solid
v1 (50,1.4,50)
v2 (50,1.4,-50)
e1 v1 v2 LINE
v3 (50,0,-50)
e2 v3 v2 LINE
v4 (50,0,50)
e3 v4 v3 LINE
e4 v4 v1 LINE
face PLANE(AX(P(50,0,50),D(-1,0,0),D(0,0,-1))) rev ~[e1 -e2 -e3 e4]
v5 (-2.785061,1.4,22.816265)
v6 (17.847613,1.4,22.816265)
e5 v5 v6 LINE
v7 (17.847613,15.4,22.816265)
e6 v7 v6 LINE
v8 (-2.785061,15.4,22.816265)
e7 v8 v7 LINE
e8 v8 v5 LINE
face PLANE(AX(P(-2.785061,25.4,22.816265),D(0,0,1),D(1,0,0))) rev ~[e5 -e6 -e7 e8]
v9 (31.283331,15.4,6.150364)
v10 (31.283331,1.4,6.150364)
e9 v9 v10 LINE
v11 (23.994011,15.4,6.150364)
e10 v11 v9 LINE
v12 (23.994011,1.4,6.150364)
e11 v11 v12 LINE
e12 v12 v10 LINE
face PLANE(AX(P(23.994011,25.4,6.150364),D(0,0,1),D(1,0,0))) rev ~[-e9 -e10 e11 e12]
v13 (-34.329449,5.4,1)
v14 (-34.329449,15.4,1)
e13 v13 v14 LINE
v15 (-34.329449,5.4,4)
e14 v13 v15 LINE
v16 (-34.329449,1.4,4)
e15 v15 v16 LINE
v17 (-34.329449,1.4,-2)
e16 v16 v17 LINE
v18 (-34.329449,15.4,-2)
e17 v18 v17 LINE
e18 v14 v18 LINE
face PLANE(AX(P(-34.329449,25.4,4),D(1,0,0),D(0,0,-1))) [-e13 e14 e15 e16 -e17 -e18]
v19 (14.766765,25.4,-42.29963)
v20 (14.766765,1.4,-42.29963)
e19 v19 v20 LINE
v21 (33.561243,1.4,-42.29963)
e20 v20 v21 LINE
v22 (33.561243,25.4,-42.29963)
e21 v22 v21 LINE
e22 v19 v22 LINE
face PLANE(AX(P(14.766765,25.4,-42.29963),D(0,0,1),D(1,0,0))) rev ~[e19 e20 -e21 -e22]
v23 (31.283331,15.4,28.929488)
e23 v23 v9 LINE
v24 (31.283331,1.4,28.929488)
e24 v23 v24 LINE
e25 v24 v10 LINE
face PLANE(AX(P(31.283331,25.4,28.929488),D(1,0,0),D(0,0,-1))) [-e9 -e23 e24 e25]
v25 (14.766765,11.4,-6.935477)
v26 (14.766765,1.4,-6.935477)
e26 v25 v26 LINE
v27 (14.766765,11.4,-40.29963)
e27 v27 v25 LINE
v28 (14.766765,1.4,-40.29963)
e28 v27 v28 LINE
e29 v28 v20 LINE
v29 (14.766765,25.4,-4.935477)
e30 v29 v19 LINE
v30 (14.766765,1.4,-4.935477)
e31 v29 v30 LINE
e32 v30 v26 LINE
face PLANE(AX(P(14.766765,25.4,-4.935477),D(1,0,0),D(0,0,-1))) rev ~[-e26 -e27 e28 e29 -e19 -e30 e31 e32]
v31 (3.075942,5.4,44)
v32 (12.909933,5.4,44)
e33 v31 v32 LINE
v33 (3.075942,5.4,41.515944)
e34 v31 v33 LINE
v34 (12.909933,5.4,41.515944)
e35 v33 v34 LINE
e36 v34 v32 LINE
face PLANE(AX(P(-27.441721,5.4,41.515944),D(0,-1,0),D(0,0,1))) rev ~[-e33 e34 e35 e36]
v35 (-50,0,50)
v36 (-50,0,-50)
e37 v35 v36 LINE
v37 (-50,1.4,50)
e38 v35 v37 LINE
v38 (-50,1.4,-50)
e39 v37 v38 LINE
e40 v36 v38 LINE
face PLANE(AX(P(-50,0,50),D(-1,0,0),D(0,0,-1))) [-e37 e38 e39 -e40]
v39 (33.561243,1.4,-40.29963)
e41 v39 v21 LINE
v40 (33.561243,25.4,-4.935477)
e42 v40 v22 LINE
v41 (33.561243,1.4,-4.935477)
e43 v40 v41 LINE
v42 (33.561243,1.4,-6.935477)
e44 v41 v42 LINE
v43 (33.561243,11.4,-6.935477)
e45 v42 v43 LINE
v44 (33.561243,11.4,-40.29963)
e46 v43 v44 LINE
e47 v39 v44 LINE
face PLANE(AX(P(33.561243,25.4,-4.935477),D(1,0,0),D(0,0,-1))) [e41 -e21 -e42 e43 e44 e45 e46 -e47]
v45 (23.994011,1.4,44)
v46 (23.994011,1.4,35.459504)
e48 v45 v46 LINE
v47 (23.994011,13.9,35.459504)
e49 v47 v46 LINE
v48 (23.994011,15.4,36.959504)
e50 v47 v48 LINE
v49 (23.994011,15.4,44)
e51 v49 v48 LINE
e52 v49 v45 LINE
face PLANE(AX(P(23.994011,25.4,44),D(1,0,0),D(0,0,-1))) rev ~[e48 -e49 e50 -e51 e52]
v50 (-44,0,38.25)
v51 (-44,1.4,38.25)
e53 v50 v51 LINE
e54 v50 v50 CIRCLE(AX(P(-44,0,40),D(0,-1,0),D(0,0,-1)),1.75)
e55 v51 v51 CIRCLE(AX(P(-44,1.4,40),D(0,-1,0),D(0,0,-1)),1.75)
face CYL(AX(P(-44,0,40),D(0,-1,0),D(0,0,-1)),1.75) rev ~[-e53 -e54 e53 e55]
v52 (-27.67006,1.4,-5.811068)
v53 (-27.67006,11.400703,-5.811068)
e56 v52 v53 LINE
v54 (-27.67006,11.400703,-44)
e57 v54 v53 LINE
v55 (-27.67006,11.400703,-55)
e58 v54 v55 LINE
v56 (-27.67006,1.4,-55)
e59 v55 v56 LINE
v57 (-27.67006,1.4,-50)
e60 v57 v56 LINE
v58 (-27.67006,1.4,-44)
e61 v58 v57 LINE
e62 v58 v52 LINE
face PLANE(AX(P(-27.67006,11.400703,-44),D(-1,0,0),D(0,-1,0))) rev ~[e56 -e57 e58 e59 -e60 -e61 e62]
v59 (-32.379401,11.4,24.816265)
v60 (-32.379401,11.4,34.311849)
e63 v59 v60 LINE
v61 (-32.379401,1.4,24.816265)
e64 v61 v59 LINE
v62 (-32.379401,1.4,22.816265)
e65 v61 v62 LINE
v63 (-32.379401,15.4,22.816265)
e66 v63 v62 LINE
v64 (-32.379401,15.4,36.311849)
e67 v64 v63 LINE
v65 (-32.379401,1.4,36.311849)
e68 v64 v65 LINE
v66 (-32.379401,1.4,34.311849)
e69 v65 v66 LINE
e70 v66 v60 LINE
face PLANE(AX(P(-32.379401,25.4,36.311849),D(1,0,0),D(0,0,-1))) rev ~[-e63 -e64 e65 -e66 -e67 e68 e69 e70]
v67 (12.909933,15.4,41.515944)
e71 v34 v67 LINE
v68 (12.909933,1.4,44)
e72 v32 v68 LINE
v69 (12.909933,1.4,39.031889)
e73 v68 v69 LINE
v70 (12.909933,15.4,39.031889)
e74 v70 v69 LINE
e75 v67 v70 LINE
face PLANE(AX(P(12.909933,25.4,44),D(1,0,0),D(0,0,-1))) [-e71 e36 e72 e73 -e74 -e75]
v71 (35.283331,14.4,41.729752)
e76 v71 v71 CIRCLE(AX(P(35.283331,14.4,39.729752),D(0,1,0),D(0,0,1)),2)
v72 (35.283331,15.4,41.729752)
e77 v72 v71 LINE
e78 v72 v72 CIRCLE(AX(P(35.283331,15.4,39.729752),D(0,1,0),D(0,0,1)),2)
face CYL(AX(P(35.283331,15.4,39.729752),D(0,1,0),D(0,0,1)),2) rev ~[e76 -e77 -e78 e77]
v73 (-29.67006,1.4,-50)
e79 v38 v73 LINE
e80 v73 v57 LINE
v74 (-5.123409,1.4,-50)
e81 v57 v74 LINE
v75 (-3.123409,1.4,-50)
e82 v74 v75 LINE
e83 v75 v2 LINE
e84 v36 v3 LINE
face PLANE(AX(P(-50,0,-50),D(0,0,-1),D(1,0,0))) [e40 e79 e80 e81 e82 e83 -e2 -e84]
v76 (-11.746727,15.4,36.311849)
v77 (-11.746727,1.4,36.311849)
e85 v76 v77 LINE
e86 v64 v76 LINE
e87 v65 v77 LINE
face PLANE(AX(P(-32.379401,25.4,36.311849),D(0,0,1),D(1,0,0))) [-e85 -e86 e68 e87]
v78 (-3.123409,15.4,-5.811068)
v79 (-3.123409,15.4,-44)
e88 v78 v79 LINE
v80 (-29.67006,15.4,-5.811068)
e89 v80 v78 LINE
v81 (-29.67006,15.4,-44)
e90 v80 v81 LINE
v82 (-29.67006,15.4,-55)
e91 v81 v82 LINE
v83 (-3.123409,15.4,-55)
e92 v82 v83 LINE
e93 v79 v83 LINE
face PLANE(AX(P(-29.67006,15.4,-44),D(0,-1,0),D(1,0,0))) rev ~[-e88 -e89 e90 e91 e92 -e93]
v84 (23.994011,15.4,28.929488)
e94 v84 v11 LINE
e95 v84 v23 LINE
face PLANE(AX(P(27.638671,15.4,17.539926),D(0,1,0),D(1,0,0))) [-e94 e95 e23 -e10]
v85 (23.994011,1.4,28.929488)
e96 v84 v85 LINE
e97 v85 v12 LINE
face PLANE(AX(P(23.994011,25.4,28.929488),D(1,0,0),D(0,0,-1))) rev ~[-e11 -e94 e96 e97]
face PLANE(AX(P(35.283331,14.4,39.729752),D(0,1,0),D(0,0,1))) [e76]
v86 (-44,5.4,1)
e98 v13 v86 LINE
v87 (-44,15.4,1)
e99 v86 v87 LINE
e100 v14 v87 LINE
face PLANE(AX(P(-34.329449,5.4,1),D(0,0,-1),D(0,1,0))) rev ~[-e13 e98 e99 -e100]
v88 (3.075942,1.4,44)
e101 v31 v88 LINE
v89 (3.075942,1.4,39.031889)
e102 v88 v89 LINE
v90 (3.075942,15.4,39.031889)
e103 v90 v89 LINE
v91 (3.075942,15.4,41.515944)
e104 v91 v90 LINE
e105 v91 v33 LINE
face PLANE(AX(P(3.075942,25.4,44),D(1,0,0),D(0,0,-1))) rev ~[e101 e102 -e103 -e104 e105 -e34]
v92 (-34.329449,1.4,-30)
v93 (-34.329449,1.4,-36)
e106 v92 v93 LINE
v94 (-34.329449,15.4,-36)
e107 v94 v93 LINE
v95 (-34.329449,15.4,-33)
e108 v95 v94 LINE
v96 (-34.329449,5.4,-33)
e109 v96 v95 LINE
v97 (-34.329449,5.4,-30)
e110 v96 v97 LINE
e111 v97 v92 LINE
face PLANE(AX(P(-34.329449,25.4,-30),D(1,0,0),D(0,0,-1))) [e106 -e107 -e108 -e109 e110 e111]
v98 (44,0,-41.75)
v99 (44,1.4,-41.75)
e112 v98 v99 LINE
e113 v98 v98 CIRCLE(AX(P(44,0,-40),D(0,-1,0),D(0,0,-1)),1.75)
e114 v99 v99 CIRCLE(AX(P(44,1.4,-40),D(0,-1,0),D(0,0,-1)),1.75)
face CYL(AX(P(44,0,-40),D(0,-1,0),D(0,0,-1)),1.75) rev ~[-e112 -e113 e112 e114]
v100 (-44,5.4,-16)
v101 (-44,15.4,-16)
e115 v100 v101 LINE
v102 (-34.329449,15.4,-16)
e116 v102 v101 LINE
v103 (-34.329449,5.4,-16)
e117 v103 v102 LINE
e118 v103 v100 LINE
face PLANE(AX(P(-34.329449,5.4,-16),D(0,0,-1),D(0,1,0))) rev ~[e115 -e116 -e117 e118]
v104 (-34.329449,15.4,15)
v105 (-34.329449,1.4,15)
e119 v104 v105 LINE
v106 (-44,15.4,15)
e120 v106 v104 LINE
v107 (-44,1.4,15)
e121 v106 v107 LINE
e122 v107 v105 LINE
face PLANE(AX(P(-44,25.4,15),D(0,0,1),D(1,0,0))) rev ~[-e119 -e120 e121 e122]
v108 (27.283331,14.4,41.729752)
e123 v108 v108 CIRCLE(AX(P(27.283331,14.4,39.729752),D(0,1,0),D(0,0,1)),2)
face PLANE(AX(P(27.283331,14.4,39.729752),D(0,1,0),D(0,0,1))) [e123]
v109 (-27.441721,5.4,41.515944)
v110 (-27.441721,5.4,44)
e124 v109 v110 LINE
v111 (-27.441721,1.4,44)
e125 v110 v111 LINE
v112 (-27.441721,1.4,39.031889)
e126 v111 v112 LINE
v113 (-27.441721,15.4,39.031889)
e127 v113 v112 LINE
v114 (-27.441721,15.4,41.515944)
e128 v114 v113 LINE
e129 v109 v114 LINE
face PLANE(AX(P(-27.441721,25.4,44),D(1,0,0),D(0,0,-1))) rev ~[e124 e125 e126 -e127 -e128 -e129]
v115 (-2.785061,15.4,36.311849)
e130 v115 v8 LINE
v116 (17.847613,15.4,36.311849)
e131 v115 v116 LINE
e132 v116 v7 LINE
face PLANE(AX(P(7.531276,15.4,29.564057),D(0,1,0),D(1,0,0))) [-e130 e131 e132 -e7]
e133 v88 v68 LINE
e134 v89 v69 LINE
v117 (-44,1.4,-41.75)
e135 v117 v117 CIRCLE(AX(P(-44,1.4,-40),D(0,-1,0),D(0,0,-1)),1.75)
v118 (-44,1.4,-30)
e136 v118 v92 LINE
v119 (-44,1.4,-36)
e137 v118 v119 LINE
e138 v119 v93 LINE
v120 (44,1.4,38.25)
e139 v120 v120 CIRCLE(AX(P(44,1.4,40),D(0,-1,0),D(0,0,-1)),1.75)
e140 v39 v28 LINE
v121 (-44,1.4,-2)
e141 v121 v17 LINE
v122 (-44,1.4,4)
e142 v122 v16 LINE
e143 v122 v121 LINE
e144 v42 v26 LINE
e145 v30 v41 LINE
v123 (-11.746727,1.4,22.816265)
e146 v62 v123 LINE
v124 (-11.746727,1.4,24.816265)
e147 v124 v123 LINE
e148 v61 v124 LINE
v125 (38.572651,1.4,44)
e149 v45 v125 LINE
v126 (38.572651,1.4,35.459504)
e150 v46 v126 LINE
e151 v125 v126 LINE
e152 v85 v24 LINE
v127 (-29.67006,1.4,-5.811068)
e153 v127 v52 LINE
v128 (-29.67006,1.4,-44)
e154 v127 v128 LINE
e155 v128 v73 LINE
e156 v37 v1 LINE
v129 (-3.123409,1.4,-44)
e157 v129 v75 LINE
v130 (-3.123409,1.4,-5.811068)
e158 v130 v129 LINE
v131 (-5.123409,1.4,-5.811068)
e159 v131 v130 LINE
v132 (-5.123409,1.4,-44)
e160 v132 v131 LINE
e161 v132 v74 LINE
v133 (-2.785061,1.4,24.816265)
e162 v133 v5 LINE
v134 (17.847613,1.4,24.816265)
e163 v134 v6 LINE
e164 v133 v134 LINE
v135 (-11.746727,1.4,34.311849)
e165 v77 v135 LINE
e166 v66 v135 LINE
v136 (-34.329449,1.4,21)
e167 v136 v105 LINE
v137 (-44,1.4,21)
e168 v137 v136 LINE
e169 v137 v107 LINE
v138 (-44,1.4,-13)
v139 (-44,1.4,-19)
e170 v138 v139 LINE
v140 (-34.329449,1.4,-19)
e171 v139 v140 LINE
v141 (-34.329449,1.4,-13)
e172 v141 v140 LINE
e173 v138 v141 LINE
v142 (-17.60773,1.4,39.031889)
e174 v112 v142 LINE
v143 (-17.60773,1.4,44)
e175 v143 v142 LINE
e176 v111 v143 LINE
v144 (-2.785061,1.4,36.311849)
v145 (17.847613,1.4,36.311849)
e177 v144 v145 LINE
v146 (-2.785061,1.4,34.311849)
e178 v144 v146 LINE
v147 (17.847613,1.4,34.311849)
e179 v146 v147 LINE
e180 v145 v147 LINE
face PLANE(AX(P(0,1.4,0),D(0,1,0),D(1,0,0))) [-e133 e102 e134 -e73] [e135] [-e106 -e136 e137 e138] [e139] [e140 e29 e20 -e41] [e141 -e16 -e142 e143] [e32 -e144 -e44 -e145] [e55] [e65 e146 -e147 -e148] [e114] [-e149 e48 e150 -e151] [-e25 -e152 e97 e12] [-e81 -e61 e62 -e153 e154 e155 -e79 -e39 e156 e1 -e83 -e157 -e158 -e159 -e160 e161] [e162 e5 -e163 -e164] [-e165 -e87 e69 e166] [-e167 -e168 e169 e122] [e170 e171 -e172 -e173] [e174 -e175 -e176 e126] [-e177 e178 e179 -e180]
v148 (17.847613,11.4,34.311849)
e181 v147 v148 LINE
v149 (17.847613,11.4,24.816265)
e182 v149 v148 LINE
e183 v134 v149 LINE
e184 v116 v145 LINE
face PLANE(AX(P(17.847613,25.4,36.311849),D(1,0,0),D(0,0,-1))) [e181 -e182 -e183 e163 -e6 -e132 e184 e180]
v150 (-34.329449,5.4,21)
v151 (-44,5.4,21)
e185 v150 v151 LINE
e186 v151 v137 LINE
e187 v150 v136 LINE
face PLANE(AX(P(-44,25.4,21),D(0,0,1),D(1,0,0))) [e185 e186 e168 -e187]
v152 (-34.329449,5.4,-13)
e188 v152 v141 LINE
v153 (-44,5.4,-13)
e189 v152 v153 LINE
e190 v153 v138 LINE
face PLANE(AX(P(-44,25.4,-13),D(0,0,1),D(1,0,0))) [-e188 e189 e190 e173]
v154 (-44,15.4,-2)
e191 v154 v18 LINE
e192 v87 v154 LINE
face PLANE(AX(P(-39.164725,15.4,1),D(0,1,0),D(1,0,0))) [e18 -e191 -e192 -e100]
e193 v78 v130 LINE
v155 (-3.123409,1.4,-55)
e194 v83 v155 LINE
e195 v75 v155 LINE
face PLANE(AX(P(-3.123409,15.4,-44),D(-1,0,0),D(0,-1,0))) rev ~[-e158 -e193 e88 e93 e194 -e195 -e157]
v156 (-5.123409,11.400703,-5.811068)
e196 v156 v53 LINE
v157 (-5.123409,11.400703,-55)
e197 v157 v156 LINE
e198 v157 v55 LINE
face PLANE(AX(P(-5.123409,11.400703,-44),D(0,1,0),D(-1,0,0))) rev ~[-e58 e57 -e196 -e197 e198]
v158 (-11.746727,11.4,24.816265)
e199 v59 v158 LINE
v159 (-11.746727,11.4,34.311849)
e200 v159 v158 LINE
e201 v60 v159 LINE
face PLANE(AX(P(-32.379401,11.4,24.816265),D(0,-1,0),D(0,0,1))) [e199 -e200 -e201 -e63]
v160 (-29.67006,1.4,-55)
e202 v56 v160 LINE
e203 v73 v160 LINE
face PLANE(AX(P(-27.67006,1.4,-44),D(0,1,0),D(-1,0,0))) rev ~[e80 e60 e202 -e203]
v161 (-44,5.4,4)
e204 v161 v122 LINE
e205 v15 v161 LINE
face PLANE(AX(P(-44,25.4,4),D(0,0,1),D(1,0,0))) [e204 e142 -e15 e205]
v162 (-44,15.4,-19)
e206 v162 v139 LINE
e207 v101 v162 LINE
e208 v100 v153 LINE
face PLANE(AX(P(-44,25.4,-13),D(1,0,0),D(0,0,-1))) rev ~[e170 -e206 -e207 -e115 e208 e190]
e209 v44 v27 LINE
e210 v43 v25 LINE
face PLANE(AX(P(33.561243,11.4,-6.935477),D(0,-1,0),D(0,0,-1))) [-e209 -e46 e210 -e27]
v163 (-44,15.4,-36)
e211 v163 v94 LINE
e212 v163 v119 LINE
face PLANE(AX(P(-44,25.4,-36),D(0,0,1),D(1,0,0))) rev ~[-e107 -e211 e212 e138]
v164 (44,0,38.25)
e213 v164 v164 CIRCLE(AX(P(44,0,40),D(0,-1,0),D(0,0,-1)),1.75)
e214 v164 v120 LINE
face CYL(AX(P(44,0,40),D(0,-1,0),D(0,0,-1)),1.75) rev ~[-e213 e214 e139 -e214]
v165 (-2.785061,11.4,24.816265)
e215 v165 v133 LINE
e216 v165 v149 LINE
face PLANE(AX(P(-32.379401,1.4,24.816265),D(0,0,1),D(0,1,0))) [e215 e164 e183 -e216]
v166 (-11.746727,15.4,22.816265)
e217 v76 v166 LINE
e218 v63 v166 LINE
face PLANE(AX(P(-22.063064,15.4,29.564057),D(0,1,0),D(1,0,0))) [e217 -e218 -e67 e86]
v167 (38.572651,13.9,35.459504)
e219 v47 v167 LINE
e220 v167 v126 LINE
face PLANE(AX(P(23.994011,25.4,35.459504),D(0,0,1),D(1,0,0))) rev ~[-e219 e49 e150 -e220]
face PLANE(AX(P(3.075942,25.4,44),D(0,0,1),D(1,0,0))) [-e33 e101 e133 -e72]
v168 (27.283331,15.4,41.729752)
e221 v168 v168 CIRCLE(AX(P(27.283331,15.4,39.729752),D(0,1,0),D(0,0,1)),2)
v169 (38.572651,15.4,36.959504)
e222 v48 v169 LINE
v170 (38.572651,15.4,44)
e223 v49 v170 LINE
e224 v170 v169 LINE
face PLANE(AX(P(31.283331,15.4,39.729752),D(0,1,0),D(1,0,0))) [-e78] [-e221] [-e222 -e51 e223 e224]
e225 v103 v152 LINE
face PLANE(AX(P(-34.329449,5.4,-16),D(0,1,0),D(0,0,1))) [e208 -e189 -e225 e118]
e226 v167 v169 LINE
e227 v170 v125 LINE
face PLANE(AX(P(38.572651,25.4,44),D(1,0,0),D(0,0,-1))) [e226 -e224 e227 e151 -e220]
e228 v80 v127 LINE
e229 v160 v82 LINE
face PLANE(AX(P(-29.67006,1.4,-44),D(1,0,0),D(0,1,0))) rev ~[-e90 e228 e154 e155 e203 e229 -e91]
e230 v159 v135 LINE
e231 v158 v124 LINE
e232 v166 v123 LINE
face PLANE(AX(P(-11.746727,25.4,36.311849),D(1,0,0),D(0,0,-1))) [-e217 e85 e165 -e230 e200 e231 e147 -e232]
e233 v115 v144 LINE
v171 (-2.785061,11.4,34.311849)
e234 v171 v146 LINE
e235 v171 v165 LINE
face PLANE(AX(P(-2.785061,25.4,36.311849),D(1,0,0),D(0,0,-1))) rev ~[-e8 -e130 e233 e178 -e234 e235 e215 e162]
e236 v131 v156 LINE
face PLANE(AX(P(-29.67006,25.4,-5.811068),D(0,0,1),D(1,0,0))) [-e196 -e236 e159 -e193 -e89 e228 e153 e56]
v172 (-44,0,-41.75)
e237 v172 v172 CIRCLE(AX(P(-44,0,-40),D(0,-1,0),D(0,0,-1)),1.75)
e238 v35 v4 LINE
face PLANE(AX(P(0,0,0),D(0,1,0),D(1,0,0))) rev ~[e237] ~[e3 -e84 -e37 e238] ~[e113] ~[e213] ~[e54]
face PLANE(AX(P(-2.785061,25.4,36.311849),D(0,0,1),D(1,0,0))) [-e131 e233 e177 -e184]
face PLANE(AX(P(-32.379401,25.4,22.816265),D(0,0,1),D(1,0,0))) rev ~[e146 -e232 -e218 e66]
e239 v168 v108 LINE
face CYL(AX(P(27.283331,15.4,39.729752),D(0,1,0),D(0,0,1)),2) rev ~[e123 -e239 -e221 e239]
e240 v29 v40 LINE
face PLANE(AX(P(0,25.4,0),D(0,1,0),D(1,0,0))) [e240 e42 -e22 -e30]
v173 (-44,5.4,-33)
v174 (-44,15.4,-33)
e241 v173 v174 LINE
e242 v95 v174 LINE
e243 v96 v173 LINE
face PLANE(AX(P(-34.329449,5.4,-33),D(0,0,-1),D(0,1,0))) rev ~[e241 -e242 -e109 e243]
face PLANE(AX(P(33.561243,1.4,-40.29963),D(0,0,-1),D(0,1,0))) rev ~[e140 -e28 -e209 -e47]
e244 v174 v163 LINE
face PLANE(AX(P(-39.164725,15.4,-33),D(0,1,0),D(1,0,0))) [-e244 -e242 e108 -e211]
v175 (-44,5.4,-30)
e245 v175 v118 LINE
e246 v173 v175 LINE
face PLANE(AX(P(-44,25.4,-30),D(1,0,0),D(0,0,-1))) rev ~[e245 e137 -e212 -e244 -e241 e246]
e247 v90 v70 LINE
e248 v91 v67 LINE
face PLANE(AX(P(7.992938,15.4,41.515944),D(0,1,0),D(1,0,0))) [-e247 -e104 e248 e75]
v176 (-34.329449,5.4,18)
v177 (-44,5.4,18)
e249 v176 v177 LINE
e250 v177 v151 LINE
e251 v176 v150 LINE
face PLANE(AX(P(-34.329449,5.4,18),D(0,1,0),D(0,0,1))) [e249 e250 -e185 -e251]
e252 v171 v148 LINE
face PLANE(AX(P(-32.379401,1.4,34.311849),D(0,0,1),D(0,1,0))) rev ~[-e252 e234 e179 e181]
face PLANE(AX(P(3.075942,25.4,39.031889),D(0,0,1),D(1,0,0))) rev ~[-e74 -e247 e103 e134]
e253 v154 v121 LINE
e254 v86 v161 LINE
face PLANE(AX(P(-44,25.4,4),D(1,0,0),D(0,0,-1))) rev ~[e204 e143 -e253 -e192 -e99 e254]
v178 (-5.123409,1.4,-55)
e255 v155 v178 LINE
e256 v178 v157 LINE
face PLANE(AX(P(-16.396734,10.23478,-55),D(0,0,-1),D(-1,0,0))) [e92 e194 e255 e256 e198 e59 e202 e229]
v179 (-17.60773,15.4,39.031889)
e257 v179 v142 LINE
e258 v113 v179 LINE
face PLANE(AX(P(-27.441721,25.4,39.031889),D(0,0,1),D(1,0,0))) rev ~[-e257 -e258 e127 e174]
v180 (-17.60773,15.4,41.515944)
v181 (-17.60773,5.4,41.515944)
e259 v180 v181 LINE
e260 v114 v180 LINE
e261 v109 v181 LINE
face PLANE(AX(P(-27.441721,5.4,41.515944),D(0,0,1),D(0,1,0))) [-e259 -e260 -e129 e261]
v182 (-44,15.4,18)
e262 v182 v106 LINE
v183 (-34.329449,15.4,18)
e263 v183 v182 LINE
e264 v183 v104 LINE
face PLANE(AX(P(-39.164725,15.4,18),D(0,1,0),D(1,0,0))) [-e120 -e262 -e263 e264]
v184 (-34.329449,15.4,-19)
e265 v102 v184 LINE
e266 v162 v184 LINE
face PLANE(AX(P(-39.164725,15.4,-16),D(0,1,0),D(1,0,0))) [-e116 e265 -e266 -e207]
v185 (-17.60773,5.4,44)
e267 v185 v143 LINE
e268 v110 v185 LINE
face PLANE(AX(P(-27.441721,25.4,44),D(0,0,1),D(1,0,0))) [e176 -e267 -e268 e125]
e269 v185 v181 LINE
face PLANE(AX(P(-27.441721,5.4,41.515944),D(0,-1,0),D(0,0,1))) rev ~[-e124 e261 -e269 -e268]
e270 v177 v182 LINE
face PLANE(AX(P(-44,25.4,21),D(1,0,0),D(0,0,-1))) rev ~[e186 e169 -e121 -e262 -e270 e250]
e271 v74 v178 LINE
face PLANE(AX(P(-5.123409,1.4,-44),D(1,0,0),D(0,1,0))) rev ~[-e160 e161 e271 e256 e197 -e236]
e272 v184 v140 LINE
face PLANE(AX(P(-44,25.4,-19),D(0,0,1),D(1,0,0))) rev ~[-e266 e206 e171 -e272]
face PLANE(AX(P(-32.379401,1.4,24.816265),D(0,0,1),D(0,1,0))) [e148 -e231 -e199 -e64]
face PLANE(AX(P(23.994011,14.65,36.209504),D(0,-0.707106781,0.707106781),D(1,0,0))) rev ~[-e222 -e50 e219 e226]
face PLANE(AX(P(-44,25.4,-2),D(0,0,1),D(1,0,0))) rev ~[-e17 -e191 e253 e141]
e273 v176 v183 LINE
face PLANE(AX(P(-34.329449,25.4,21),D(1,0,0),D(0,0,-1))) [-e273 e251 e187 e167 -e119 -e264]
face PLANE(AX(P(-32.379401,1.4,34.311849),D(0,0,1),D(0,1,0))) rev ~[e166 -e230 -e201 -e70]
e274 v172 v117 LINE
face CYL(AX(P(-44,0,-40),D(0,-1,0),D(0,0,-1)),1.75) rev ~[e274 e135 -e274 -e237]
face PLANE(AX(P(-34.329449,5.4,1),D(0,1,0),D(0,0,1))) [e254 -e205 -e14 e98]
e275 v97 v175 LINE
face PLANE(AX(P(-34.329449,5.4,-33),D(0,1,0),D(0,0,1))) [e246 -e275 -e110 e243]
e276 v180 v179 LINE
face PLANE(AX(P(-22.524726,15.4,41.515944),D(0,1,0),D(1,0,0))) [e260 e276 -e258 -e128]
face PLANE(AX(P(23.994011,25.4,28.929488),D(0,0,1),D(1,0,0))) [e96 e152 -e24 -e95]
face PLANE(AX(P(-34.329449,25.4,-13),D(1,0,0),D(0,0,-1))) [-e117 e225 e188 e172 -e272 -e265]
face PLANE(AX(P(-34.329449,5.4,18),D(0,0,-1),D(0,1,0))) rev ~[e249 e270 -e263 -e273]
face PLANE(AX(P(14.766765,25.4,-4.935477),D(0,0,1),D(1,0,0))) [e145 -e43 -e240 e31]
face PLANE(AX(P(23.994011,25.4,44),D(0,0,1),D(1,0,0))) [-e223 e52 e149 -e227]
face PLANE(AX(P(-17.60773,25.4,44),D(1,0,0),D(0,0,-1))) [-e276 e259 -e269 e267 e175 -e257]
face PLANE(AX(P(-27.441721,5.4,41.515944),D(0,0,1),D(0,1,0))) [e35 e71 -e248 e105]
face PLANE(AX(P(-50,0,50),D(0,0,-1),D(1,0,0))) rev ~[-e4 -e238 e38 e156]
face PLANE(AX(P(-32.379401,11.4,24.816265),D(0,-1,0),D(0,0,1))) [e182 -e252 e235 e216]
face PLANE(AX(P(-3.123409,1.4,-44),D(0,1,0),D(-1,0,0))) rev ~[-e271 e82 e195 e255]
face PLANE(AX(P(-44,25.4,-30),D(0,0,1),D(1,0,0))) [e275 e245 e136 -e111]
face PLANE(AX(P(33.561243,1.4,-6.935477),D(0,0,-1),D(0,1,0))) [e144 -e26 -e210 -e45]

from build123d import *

# Parameters (mm, degrees)
ESBO_O1_W                = 100
ESBO_O1_H                = 100
RESSALTO_EXTRUS_O1_DEPTH = 1.4
ESBO_O2_W                = 88
ESBO_O2_H                = 88
RESSALTO_EXTRUS_O2_DEPTH = 24
ESBO_O4_W                = 100
ESBO_O4_H                = 100
ESBO_O4_W_2              = 14.578639588
ESBO_O4_H_2              = 8.540496419
ESBO_O4_W_3              = 7.289319794
ESBO_O4_H_3              = 22.779124356
ESBO_O4_W_4              = 18.794478339
ESBO_O4_H_4              = 37.364152615
ESBO_O4_W_5              = 26.546651383
ESBO_O4_H_5              = 38.188932231
ESBO_O4_W_6              = 20.632673902
ESBO_O4_H_6              = 13.495583341
ESBO_O4_W_7              = 9.670550534
ESBO_O4_H_7              = 6
ESBO_O4_W_8              = 9.833990962
ESBO_O4_H_8              = 4.968111267
CORTE_EXTRUS_O1_DEPTH    = 24
ESBO_O5_W                = 26.546651383
ESBO_O5_H                = 38.188932231
ESBO_O5_W_2              = 7.289319794
ESBO_O5_H_2              = 22.779124356
ESBO_O5_W_3              = 20.632673902
ESBO_O5_H_3              = 13.495583341
ESBO_O5_W_4              = 14.578639588
ESBO_O5_H_4              = 8.540496419
ESBO_O5_W_5              = 9.670550534
ESBO_O5_H_5              = 6
ESBO_O5_W_6              = 9.833990962
ESBO_O5_H_6              = 4.968111267
CORTE_EXTRUS_O2_DEPTH    = 10
ESBO_O6_R                = 2
CORTE_EXTRUS_O3_DEPTH    = 1
CHANFRO1_SIZE            = 1.5
CORTE_EXTRUS_O4_REACH    = 102.636
ESBO_O7_W                = 33.364152615
ESBO_O7_H                = 10
CORTE_EXTRUS_O5_REACH    = 111.458
ESBO_O8_W                = 22.546651383
ESBO_O8_H                = 10.000703343
CORTE_EXTRUS_O6_REACH    = 101.657
ESBO_O9_W                = 9.495583341
ESBO_O9_H                = 10
ESBO_O10_W               = 3
ESBO_O10_H               = 10
CORTE_EXTRUS_O7_DEPTH    = 9.670550534
CORTE_EXTRUS_O8_REACH    = 97.616
ESBO_O11_W               = 2.484055633
ESBO_O11_H               = 10
ESBO_O12_R               = 1.75
CORTE_EXTRUS_O9_DEPTH    = 1.4
RESSALTO_EXTRUS_O3_DEPTH = 11


with BuildPart() as part:
    # Esboço1 → Ressalto-extrusão1 (new body)
    with BuildSketch(Plane(origin=(0, 0, 0), x_dir=(1, 0, 0), z_dir=(0, 1, 0))):
        Rectangle(ESBO_O1_W, ESBO_O1_H)
    extrude(amount=RESSALTO_EXTRUS_O1_DEPTH)

    # Esboço2 → Ressalto-extrusão2 (add)
    with BuildSketch(Plane(origin=(0, 1.4, 0), x_dir=(1, 0, 0), z_dir=(0, 1, 0))):
        Rectangle(ESBO_O2_W, ESBO_O2_H)
    extrude(amount=RESSALTO_EXTRUS_O2_DEPTH)

    # Esboço4 → Corte-extrusão1 (cut)
    with BuildSketch(Plane(origin=(0, 25.4, 0), x_dir=(1, 0, 0), z_dir=(0, 1, 0))):
        Rectangle(ESBO_O4_W, ESBO_O4_H)
        with Locations((31.283330783, -39.729751791)):
            Rectangle(ESBO_O4_W_2, ESBO_O4_H_2, mode=Mode.SUBTRACT)
        with Locations((27.638670886, -17.539925754)):
            Rectangle(ESBO_O4_W_3, ESBO_O4_H_3, mode=Mode.SUBTRACT)
        with Locations((24.164004049, 23.617553252)):
            Rectangle(ESBO_O4_W_4, ESBO_O4_H_4, mode=Mode.SUBTRACT)
        with Locations((-16.396734338, 24.905533884)):
            Rectangle(ESBO_O4_W_5, ESBO_O4_H_5, mode=Mode.SUBTRACT)
        with Locations((-22.063064097, -29.56405701)):
            Rectangle(ESBO_O4_W_6, ESBO_O4_H_6, mode=Mode.SUBTRACT)
        with Locations((7.531276247, -29.56405701)):
            Rectangle(ESBO_O4_W_6, ESBO_O4_H_6, mode=Mode.SUBTRACT)
        with Locations((-39.164724733, 33)):
            Rectangle(ESBO_O4_W_7, ESBO_O4_H_7, mode=Mode.SUBTRACT)
        with Locations((-39.164724733, 16)):
            Rectangle(ESBO_O4_W_7, ESBO_O4_H_7, mode=Mode.SUBTRACT)
        with Locations((-39.164724733, -1)):
            Rectangle(ESBO_O4_W_7, ESBO_O4_H_7, mode=Mode.SUBTRACT)
        with Locations((-39.164724733, -18)):
            Rectangle(ESBO_O4_W_7, ESBO_O4_H_7, mode=Mode.SUBTRACT)
        with Locations((-22.524725577, -41.515944367)):
            Rectangle(ESBO_O4_W_8, ESBO_O4_H_8, mode=Mode.SUBTRACT)
        with Locations((7.992937727, -41.515944367)):
            Rectangle(ESBO_O4_W_8, ESBO_O4_H_8, mode=Mode.SUBTRACT)
    extrude(amount=-CORTE_EXTRUS_O1_DEPTH, mode=Mode.SUBTRACT)

    # Esboço5 → Corte-extrusão2 (cut)
    with BuildSketch(Plane(origin=(0, 25.4, 0), x_dir=(1, 0, 0), z_dir=(0, 1, 0))):
        with Locations((-16.396734338, 24.905533884)):
            Rectangle(ESBO_O5_W, ESBO_O5_H)
        with Locations((27.638670886, -17.539925754)):
            Rectangle(ESBO_O5_W_2, ESBO_O5_H_2)
        with Locations((7.531276247, -29.56405701)):
            Rectangle(ESBO_O5_W_3, ESBO_O5_H_3)
        with Locations((-22.063064097, -29.56405701)):
            Rectangle(ESBO_O5_W_3, ESBO_O5_H_3)
        with Locations((31.283330783, -39.729751791)):
            Rectangle(ESBO_O5_W_4, ESBO_O5_H_4)
        with Locations((-39.164724733, -18)):
            Rectangle(ESBO_O5_W_5, ESBO_O5_H_5)
        with Locations((-39.164724733, -1)):
            Rectangle(ESBO_O5_W_5, ESBO_O5_H_5)
        with Locations((-39.164724733, 16)):
            Rectangle(ESBO_O5_W_5, ESBO_O5_H_5)
        with Locations((-39.164724733, 33)):
            Rectangle(ESBO_O5_W_5, ESBO_O5_H_5)
        with Locations((7.992937727, -41.515944367)):
            Rectangle(ESBO_O5_W_6, ESBO_O5_H_6)
        with Locations((-22.524725577, -41.515944367)):
            Rectangle(ESBO_O5_W_6, ESBO_O5_H_6)
    extrude(amount=-CORTE_EXTRUS_O2_DEPTH, mode=Mode.SUBTRACT)

    # Esboço6 → Corte-extrusão3 (cut)
    with BuildSketch(Plane(origin=(0, 15.4, 0), x_dir=(1, 0, 0), z_dir=(0, 1, 0))):
        with Locations(Location((27.283330783, -39.729751791, 0), (0, 0, 270))):
            Circle(ESBO_O6_R)
        with Locations(Location((35.283330783, -39.729751791, 0), (0, 0, 270))):
            Circle(ESBO_O6_R)
    extrude(amount=-CORTE_EXTRUS_O3_DEPTH, mode=Mode.SUBTRACT)

    # Chanfro1
    chanfro1_edges = [part.edges().sort_by_distance(p)[0] for p in [
        (31.283330783, 15.4, 35.459503581),
    ]]
    chamfer(chanfro1_edges, length=CHANFRO1_SIZE)

    # Esboço7 → Corte-extrusão4 (cut, up to next)
    with BuildSketch(Plane(origin=(33.561243218, 0, 0), x_dir=(0, 0, -1), z_dir=(1, 0, 0)), mode=Mode.PRIVATE) as corte_extrus_o4_sk1:
        with Locations((23.617553252, 6.4)):
            Rectangle(ESBO_O7_W, ESBO_O7_H)
    corte_extrus_o4_tool1 = extrude(corte_extrus_o4_sk1.sketch, amount=-CORTE_EXTRUS_O4_REACH, mode=Mode.PRIVATE) & part.part
    add(corte_extrus_o4_tool1.solids().sort_by_distance((33.561243, 6.4, -23.617553))[0], mode=Mode.SUBTRACT)

    # Esboço8 → Corte-extrusão5 (cut, up to next)
    with BuildSketch(Plane(origin=(0, 0, -44), x_dir=(-1, 0, 0), z_dir=(0, 0, -1)), mode=Mode.PRIVATE) as corte_extrus_o5_sk1:
        with Locations((16.396734338, 6.400351672)):
            Rectangle(ESBO_O8_W, ESBO_O8_H)
    corte_extrus_o5_tool1 = extrude(corte_extrus_o5_sk1.sketch, amount=-CORTE_EXTRUS_O5_REACH, mode=Mode.PRIVATE) & part.part
    add(corte_extrus_o5_tool1.solids().sort_by_distance((-16.396734, 6.400352, -44))[0], mode=Mode.SUBTRACT)

    # Corte-extrusão6: up to this face of the body (flat: up to its plane)
    corte_extrus_o6_end = Plane(part.part.faces().sort_by_distance((17.847613198, 8.4, 29.56405701))[0])
    # Esboço9 → Corte-extrusão6 (cut, up to the picked face)
    with BuildSketch(Plane.ZY.offset(32.379401048), mode=Mode.PRIVATE) as corte_extrus_o6_sk1:
        with Locations((29.56405701, 6.4)):
            Rectangle(ESBO_O9_W, ESBO_O9_H)
    corte_extrus_o6_tool1 = split(extrude(corte_extrus_o6_sk1.sketch, amount=-CORTE_EXTRUS_O6_REACH, mode=Mode.PRIVATE), bisect_by=corte_extrus_o6_end, keep=Keep.BOTH, mode=Mode.PRIVATE)
    add(corte_extrus_o6_tool1.solids().sort_by(Axis((-32.379401, 6.4, 29.564057), (1, 0, 0)))[0], mode=Mode.SUBTRACT)

    # Esboço10 → Corte-extrusão7 (cut)
    with BuildSketch(Plane.ZY.offset(34.329449466)):
        with Locations((-31.5, 10.4)):
            Rectangle(ESBO_O10_W, ESBO_O10_H)
        with Locations((-14.5, 10.4)):
            Rectangle(ESBO_O10_W, ESBO_O10_H)
        with Locations((2.5, 10.4)):
            Rectangle(ESBO_O10_W, ESBO_O10_H)
        with Locations((19.5, 10.4)):
            Rectangle(ESBO_O10_W, ESBO_O10_H)
    extrude(amount=CORTE_EXTRUS_O7_DEPTH, mode=Mode.SUBTRACT)

    # Corte-extrusão8: up to this face of the body (flat: up to its plane)
    corte_extrus_o8_end = Plane(part.part.faces().sort_by_distance((12.909933208, 8.4, 41.515944367))[0])
    # Esboço11 → Corte-extrusão8 (cut, up to the picked face)
    with BuildSketch(Plane.ZY.offset(27.441721058), mode=Mode.PRIVATE) as corte_extrus_o8_sk1:
        with Locations((42.757972184, 10.4)):
            Rectangle(ESBO_O11_W, ESBO_O11_H)
    corte_extrus_o8_tool1 = split(extrude(corte_extrus_o8_sk1.sketch, amount=-CORTE_EXTRUS_O8_REACH, mode=Mode.PRIVATE), bisect_by=corte_extrus_o8_end, keep=Keep.BOTH, mode=Mode.PRIVATE)
    add(corte_extrus_o8_tool1.solids().sort_by(Axis((-27.441721, 10.4, 42.757972), (1, 0, 0)))[0], mode=Mode.SUBTRACT)

    # Esboço12 → Corte-extrusão9 (cut)
    with BuildSketch(Plane.XZ):
        with Locations(Location((-44, 40, 0), (0, 0, 270))):
            Circle(ESBO_O12_R)
        with Locations(Location((44, 40, 0), (0, 0, 270))):
            Circle(ESBO_O12_R)
        with Locations(Location((44, -40, 0), (0, 0, 270))):
            Circle(ESBO_O12_R)
        with Locations(Location((-44, -40, 0), (0, 0, 270))):
            Circle(ESBO_O12_R)
    extrude(amount=-CORTE_EXTRUS_O9_DEPTH, mode=Mode.SUBTRACT)

    # Esboço13 → Ressalto-extrusão3 (add)
    with BuildSketch(Plane(origin=(0, 0, -44), x_dir=(-1, 0, 0), z_dir=(0, 0, -1))):
        Polygon((5.123408647, 11.400703343), (27.67006003, 11.400703343), (27.67006003, 1.4), (29.67006003, 1.4), (29.67006003, 15.4), (3.123408647, 15.4), (3.123408647, 1.4), (5.123408647, 1.4), align=None)
    extrude(amount=RESSALTO_EXTRUS_O3_DEPTH)


solid = part.part
